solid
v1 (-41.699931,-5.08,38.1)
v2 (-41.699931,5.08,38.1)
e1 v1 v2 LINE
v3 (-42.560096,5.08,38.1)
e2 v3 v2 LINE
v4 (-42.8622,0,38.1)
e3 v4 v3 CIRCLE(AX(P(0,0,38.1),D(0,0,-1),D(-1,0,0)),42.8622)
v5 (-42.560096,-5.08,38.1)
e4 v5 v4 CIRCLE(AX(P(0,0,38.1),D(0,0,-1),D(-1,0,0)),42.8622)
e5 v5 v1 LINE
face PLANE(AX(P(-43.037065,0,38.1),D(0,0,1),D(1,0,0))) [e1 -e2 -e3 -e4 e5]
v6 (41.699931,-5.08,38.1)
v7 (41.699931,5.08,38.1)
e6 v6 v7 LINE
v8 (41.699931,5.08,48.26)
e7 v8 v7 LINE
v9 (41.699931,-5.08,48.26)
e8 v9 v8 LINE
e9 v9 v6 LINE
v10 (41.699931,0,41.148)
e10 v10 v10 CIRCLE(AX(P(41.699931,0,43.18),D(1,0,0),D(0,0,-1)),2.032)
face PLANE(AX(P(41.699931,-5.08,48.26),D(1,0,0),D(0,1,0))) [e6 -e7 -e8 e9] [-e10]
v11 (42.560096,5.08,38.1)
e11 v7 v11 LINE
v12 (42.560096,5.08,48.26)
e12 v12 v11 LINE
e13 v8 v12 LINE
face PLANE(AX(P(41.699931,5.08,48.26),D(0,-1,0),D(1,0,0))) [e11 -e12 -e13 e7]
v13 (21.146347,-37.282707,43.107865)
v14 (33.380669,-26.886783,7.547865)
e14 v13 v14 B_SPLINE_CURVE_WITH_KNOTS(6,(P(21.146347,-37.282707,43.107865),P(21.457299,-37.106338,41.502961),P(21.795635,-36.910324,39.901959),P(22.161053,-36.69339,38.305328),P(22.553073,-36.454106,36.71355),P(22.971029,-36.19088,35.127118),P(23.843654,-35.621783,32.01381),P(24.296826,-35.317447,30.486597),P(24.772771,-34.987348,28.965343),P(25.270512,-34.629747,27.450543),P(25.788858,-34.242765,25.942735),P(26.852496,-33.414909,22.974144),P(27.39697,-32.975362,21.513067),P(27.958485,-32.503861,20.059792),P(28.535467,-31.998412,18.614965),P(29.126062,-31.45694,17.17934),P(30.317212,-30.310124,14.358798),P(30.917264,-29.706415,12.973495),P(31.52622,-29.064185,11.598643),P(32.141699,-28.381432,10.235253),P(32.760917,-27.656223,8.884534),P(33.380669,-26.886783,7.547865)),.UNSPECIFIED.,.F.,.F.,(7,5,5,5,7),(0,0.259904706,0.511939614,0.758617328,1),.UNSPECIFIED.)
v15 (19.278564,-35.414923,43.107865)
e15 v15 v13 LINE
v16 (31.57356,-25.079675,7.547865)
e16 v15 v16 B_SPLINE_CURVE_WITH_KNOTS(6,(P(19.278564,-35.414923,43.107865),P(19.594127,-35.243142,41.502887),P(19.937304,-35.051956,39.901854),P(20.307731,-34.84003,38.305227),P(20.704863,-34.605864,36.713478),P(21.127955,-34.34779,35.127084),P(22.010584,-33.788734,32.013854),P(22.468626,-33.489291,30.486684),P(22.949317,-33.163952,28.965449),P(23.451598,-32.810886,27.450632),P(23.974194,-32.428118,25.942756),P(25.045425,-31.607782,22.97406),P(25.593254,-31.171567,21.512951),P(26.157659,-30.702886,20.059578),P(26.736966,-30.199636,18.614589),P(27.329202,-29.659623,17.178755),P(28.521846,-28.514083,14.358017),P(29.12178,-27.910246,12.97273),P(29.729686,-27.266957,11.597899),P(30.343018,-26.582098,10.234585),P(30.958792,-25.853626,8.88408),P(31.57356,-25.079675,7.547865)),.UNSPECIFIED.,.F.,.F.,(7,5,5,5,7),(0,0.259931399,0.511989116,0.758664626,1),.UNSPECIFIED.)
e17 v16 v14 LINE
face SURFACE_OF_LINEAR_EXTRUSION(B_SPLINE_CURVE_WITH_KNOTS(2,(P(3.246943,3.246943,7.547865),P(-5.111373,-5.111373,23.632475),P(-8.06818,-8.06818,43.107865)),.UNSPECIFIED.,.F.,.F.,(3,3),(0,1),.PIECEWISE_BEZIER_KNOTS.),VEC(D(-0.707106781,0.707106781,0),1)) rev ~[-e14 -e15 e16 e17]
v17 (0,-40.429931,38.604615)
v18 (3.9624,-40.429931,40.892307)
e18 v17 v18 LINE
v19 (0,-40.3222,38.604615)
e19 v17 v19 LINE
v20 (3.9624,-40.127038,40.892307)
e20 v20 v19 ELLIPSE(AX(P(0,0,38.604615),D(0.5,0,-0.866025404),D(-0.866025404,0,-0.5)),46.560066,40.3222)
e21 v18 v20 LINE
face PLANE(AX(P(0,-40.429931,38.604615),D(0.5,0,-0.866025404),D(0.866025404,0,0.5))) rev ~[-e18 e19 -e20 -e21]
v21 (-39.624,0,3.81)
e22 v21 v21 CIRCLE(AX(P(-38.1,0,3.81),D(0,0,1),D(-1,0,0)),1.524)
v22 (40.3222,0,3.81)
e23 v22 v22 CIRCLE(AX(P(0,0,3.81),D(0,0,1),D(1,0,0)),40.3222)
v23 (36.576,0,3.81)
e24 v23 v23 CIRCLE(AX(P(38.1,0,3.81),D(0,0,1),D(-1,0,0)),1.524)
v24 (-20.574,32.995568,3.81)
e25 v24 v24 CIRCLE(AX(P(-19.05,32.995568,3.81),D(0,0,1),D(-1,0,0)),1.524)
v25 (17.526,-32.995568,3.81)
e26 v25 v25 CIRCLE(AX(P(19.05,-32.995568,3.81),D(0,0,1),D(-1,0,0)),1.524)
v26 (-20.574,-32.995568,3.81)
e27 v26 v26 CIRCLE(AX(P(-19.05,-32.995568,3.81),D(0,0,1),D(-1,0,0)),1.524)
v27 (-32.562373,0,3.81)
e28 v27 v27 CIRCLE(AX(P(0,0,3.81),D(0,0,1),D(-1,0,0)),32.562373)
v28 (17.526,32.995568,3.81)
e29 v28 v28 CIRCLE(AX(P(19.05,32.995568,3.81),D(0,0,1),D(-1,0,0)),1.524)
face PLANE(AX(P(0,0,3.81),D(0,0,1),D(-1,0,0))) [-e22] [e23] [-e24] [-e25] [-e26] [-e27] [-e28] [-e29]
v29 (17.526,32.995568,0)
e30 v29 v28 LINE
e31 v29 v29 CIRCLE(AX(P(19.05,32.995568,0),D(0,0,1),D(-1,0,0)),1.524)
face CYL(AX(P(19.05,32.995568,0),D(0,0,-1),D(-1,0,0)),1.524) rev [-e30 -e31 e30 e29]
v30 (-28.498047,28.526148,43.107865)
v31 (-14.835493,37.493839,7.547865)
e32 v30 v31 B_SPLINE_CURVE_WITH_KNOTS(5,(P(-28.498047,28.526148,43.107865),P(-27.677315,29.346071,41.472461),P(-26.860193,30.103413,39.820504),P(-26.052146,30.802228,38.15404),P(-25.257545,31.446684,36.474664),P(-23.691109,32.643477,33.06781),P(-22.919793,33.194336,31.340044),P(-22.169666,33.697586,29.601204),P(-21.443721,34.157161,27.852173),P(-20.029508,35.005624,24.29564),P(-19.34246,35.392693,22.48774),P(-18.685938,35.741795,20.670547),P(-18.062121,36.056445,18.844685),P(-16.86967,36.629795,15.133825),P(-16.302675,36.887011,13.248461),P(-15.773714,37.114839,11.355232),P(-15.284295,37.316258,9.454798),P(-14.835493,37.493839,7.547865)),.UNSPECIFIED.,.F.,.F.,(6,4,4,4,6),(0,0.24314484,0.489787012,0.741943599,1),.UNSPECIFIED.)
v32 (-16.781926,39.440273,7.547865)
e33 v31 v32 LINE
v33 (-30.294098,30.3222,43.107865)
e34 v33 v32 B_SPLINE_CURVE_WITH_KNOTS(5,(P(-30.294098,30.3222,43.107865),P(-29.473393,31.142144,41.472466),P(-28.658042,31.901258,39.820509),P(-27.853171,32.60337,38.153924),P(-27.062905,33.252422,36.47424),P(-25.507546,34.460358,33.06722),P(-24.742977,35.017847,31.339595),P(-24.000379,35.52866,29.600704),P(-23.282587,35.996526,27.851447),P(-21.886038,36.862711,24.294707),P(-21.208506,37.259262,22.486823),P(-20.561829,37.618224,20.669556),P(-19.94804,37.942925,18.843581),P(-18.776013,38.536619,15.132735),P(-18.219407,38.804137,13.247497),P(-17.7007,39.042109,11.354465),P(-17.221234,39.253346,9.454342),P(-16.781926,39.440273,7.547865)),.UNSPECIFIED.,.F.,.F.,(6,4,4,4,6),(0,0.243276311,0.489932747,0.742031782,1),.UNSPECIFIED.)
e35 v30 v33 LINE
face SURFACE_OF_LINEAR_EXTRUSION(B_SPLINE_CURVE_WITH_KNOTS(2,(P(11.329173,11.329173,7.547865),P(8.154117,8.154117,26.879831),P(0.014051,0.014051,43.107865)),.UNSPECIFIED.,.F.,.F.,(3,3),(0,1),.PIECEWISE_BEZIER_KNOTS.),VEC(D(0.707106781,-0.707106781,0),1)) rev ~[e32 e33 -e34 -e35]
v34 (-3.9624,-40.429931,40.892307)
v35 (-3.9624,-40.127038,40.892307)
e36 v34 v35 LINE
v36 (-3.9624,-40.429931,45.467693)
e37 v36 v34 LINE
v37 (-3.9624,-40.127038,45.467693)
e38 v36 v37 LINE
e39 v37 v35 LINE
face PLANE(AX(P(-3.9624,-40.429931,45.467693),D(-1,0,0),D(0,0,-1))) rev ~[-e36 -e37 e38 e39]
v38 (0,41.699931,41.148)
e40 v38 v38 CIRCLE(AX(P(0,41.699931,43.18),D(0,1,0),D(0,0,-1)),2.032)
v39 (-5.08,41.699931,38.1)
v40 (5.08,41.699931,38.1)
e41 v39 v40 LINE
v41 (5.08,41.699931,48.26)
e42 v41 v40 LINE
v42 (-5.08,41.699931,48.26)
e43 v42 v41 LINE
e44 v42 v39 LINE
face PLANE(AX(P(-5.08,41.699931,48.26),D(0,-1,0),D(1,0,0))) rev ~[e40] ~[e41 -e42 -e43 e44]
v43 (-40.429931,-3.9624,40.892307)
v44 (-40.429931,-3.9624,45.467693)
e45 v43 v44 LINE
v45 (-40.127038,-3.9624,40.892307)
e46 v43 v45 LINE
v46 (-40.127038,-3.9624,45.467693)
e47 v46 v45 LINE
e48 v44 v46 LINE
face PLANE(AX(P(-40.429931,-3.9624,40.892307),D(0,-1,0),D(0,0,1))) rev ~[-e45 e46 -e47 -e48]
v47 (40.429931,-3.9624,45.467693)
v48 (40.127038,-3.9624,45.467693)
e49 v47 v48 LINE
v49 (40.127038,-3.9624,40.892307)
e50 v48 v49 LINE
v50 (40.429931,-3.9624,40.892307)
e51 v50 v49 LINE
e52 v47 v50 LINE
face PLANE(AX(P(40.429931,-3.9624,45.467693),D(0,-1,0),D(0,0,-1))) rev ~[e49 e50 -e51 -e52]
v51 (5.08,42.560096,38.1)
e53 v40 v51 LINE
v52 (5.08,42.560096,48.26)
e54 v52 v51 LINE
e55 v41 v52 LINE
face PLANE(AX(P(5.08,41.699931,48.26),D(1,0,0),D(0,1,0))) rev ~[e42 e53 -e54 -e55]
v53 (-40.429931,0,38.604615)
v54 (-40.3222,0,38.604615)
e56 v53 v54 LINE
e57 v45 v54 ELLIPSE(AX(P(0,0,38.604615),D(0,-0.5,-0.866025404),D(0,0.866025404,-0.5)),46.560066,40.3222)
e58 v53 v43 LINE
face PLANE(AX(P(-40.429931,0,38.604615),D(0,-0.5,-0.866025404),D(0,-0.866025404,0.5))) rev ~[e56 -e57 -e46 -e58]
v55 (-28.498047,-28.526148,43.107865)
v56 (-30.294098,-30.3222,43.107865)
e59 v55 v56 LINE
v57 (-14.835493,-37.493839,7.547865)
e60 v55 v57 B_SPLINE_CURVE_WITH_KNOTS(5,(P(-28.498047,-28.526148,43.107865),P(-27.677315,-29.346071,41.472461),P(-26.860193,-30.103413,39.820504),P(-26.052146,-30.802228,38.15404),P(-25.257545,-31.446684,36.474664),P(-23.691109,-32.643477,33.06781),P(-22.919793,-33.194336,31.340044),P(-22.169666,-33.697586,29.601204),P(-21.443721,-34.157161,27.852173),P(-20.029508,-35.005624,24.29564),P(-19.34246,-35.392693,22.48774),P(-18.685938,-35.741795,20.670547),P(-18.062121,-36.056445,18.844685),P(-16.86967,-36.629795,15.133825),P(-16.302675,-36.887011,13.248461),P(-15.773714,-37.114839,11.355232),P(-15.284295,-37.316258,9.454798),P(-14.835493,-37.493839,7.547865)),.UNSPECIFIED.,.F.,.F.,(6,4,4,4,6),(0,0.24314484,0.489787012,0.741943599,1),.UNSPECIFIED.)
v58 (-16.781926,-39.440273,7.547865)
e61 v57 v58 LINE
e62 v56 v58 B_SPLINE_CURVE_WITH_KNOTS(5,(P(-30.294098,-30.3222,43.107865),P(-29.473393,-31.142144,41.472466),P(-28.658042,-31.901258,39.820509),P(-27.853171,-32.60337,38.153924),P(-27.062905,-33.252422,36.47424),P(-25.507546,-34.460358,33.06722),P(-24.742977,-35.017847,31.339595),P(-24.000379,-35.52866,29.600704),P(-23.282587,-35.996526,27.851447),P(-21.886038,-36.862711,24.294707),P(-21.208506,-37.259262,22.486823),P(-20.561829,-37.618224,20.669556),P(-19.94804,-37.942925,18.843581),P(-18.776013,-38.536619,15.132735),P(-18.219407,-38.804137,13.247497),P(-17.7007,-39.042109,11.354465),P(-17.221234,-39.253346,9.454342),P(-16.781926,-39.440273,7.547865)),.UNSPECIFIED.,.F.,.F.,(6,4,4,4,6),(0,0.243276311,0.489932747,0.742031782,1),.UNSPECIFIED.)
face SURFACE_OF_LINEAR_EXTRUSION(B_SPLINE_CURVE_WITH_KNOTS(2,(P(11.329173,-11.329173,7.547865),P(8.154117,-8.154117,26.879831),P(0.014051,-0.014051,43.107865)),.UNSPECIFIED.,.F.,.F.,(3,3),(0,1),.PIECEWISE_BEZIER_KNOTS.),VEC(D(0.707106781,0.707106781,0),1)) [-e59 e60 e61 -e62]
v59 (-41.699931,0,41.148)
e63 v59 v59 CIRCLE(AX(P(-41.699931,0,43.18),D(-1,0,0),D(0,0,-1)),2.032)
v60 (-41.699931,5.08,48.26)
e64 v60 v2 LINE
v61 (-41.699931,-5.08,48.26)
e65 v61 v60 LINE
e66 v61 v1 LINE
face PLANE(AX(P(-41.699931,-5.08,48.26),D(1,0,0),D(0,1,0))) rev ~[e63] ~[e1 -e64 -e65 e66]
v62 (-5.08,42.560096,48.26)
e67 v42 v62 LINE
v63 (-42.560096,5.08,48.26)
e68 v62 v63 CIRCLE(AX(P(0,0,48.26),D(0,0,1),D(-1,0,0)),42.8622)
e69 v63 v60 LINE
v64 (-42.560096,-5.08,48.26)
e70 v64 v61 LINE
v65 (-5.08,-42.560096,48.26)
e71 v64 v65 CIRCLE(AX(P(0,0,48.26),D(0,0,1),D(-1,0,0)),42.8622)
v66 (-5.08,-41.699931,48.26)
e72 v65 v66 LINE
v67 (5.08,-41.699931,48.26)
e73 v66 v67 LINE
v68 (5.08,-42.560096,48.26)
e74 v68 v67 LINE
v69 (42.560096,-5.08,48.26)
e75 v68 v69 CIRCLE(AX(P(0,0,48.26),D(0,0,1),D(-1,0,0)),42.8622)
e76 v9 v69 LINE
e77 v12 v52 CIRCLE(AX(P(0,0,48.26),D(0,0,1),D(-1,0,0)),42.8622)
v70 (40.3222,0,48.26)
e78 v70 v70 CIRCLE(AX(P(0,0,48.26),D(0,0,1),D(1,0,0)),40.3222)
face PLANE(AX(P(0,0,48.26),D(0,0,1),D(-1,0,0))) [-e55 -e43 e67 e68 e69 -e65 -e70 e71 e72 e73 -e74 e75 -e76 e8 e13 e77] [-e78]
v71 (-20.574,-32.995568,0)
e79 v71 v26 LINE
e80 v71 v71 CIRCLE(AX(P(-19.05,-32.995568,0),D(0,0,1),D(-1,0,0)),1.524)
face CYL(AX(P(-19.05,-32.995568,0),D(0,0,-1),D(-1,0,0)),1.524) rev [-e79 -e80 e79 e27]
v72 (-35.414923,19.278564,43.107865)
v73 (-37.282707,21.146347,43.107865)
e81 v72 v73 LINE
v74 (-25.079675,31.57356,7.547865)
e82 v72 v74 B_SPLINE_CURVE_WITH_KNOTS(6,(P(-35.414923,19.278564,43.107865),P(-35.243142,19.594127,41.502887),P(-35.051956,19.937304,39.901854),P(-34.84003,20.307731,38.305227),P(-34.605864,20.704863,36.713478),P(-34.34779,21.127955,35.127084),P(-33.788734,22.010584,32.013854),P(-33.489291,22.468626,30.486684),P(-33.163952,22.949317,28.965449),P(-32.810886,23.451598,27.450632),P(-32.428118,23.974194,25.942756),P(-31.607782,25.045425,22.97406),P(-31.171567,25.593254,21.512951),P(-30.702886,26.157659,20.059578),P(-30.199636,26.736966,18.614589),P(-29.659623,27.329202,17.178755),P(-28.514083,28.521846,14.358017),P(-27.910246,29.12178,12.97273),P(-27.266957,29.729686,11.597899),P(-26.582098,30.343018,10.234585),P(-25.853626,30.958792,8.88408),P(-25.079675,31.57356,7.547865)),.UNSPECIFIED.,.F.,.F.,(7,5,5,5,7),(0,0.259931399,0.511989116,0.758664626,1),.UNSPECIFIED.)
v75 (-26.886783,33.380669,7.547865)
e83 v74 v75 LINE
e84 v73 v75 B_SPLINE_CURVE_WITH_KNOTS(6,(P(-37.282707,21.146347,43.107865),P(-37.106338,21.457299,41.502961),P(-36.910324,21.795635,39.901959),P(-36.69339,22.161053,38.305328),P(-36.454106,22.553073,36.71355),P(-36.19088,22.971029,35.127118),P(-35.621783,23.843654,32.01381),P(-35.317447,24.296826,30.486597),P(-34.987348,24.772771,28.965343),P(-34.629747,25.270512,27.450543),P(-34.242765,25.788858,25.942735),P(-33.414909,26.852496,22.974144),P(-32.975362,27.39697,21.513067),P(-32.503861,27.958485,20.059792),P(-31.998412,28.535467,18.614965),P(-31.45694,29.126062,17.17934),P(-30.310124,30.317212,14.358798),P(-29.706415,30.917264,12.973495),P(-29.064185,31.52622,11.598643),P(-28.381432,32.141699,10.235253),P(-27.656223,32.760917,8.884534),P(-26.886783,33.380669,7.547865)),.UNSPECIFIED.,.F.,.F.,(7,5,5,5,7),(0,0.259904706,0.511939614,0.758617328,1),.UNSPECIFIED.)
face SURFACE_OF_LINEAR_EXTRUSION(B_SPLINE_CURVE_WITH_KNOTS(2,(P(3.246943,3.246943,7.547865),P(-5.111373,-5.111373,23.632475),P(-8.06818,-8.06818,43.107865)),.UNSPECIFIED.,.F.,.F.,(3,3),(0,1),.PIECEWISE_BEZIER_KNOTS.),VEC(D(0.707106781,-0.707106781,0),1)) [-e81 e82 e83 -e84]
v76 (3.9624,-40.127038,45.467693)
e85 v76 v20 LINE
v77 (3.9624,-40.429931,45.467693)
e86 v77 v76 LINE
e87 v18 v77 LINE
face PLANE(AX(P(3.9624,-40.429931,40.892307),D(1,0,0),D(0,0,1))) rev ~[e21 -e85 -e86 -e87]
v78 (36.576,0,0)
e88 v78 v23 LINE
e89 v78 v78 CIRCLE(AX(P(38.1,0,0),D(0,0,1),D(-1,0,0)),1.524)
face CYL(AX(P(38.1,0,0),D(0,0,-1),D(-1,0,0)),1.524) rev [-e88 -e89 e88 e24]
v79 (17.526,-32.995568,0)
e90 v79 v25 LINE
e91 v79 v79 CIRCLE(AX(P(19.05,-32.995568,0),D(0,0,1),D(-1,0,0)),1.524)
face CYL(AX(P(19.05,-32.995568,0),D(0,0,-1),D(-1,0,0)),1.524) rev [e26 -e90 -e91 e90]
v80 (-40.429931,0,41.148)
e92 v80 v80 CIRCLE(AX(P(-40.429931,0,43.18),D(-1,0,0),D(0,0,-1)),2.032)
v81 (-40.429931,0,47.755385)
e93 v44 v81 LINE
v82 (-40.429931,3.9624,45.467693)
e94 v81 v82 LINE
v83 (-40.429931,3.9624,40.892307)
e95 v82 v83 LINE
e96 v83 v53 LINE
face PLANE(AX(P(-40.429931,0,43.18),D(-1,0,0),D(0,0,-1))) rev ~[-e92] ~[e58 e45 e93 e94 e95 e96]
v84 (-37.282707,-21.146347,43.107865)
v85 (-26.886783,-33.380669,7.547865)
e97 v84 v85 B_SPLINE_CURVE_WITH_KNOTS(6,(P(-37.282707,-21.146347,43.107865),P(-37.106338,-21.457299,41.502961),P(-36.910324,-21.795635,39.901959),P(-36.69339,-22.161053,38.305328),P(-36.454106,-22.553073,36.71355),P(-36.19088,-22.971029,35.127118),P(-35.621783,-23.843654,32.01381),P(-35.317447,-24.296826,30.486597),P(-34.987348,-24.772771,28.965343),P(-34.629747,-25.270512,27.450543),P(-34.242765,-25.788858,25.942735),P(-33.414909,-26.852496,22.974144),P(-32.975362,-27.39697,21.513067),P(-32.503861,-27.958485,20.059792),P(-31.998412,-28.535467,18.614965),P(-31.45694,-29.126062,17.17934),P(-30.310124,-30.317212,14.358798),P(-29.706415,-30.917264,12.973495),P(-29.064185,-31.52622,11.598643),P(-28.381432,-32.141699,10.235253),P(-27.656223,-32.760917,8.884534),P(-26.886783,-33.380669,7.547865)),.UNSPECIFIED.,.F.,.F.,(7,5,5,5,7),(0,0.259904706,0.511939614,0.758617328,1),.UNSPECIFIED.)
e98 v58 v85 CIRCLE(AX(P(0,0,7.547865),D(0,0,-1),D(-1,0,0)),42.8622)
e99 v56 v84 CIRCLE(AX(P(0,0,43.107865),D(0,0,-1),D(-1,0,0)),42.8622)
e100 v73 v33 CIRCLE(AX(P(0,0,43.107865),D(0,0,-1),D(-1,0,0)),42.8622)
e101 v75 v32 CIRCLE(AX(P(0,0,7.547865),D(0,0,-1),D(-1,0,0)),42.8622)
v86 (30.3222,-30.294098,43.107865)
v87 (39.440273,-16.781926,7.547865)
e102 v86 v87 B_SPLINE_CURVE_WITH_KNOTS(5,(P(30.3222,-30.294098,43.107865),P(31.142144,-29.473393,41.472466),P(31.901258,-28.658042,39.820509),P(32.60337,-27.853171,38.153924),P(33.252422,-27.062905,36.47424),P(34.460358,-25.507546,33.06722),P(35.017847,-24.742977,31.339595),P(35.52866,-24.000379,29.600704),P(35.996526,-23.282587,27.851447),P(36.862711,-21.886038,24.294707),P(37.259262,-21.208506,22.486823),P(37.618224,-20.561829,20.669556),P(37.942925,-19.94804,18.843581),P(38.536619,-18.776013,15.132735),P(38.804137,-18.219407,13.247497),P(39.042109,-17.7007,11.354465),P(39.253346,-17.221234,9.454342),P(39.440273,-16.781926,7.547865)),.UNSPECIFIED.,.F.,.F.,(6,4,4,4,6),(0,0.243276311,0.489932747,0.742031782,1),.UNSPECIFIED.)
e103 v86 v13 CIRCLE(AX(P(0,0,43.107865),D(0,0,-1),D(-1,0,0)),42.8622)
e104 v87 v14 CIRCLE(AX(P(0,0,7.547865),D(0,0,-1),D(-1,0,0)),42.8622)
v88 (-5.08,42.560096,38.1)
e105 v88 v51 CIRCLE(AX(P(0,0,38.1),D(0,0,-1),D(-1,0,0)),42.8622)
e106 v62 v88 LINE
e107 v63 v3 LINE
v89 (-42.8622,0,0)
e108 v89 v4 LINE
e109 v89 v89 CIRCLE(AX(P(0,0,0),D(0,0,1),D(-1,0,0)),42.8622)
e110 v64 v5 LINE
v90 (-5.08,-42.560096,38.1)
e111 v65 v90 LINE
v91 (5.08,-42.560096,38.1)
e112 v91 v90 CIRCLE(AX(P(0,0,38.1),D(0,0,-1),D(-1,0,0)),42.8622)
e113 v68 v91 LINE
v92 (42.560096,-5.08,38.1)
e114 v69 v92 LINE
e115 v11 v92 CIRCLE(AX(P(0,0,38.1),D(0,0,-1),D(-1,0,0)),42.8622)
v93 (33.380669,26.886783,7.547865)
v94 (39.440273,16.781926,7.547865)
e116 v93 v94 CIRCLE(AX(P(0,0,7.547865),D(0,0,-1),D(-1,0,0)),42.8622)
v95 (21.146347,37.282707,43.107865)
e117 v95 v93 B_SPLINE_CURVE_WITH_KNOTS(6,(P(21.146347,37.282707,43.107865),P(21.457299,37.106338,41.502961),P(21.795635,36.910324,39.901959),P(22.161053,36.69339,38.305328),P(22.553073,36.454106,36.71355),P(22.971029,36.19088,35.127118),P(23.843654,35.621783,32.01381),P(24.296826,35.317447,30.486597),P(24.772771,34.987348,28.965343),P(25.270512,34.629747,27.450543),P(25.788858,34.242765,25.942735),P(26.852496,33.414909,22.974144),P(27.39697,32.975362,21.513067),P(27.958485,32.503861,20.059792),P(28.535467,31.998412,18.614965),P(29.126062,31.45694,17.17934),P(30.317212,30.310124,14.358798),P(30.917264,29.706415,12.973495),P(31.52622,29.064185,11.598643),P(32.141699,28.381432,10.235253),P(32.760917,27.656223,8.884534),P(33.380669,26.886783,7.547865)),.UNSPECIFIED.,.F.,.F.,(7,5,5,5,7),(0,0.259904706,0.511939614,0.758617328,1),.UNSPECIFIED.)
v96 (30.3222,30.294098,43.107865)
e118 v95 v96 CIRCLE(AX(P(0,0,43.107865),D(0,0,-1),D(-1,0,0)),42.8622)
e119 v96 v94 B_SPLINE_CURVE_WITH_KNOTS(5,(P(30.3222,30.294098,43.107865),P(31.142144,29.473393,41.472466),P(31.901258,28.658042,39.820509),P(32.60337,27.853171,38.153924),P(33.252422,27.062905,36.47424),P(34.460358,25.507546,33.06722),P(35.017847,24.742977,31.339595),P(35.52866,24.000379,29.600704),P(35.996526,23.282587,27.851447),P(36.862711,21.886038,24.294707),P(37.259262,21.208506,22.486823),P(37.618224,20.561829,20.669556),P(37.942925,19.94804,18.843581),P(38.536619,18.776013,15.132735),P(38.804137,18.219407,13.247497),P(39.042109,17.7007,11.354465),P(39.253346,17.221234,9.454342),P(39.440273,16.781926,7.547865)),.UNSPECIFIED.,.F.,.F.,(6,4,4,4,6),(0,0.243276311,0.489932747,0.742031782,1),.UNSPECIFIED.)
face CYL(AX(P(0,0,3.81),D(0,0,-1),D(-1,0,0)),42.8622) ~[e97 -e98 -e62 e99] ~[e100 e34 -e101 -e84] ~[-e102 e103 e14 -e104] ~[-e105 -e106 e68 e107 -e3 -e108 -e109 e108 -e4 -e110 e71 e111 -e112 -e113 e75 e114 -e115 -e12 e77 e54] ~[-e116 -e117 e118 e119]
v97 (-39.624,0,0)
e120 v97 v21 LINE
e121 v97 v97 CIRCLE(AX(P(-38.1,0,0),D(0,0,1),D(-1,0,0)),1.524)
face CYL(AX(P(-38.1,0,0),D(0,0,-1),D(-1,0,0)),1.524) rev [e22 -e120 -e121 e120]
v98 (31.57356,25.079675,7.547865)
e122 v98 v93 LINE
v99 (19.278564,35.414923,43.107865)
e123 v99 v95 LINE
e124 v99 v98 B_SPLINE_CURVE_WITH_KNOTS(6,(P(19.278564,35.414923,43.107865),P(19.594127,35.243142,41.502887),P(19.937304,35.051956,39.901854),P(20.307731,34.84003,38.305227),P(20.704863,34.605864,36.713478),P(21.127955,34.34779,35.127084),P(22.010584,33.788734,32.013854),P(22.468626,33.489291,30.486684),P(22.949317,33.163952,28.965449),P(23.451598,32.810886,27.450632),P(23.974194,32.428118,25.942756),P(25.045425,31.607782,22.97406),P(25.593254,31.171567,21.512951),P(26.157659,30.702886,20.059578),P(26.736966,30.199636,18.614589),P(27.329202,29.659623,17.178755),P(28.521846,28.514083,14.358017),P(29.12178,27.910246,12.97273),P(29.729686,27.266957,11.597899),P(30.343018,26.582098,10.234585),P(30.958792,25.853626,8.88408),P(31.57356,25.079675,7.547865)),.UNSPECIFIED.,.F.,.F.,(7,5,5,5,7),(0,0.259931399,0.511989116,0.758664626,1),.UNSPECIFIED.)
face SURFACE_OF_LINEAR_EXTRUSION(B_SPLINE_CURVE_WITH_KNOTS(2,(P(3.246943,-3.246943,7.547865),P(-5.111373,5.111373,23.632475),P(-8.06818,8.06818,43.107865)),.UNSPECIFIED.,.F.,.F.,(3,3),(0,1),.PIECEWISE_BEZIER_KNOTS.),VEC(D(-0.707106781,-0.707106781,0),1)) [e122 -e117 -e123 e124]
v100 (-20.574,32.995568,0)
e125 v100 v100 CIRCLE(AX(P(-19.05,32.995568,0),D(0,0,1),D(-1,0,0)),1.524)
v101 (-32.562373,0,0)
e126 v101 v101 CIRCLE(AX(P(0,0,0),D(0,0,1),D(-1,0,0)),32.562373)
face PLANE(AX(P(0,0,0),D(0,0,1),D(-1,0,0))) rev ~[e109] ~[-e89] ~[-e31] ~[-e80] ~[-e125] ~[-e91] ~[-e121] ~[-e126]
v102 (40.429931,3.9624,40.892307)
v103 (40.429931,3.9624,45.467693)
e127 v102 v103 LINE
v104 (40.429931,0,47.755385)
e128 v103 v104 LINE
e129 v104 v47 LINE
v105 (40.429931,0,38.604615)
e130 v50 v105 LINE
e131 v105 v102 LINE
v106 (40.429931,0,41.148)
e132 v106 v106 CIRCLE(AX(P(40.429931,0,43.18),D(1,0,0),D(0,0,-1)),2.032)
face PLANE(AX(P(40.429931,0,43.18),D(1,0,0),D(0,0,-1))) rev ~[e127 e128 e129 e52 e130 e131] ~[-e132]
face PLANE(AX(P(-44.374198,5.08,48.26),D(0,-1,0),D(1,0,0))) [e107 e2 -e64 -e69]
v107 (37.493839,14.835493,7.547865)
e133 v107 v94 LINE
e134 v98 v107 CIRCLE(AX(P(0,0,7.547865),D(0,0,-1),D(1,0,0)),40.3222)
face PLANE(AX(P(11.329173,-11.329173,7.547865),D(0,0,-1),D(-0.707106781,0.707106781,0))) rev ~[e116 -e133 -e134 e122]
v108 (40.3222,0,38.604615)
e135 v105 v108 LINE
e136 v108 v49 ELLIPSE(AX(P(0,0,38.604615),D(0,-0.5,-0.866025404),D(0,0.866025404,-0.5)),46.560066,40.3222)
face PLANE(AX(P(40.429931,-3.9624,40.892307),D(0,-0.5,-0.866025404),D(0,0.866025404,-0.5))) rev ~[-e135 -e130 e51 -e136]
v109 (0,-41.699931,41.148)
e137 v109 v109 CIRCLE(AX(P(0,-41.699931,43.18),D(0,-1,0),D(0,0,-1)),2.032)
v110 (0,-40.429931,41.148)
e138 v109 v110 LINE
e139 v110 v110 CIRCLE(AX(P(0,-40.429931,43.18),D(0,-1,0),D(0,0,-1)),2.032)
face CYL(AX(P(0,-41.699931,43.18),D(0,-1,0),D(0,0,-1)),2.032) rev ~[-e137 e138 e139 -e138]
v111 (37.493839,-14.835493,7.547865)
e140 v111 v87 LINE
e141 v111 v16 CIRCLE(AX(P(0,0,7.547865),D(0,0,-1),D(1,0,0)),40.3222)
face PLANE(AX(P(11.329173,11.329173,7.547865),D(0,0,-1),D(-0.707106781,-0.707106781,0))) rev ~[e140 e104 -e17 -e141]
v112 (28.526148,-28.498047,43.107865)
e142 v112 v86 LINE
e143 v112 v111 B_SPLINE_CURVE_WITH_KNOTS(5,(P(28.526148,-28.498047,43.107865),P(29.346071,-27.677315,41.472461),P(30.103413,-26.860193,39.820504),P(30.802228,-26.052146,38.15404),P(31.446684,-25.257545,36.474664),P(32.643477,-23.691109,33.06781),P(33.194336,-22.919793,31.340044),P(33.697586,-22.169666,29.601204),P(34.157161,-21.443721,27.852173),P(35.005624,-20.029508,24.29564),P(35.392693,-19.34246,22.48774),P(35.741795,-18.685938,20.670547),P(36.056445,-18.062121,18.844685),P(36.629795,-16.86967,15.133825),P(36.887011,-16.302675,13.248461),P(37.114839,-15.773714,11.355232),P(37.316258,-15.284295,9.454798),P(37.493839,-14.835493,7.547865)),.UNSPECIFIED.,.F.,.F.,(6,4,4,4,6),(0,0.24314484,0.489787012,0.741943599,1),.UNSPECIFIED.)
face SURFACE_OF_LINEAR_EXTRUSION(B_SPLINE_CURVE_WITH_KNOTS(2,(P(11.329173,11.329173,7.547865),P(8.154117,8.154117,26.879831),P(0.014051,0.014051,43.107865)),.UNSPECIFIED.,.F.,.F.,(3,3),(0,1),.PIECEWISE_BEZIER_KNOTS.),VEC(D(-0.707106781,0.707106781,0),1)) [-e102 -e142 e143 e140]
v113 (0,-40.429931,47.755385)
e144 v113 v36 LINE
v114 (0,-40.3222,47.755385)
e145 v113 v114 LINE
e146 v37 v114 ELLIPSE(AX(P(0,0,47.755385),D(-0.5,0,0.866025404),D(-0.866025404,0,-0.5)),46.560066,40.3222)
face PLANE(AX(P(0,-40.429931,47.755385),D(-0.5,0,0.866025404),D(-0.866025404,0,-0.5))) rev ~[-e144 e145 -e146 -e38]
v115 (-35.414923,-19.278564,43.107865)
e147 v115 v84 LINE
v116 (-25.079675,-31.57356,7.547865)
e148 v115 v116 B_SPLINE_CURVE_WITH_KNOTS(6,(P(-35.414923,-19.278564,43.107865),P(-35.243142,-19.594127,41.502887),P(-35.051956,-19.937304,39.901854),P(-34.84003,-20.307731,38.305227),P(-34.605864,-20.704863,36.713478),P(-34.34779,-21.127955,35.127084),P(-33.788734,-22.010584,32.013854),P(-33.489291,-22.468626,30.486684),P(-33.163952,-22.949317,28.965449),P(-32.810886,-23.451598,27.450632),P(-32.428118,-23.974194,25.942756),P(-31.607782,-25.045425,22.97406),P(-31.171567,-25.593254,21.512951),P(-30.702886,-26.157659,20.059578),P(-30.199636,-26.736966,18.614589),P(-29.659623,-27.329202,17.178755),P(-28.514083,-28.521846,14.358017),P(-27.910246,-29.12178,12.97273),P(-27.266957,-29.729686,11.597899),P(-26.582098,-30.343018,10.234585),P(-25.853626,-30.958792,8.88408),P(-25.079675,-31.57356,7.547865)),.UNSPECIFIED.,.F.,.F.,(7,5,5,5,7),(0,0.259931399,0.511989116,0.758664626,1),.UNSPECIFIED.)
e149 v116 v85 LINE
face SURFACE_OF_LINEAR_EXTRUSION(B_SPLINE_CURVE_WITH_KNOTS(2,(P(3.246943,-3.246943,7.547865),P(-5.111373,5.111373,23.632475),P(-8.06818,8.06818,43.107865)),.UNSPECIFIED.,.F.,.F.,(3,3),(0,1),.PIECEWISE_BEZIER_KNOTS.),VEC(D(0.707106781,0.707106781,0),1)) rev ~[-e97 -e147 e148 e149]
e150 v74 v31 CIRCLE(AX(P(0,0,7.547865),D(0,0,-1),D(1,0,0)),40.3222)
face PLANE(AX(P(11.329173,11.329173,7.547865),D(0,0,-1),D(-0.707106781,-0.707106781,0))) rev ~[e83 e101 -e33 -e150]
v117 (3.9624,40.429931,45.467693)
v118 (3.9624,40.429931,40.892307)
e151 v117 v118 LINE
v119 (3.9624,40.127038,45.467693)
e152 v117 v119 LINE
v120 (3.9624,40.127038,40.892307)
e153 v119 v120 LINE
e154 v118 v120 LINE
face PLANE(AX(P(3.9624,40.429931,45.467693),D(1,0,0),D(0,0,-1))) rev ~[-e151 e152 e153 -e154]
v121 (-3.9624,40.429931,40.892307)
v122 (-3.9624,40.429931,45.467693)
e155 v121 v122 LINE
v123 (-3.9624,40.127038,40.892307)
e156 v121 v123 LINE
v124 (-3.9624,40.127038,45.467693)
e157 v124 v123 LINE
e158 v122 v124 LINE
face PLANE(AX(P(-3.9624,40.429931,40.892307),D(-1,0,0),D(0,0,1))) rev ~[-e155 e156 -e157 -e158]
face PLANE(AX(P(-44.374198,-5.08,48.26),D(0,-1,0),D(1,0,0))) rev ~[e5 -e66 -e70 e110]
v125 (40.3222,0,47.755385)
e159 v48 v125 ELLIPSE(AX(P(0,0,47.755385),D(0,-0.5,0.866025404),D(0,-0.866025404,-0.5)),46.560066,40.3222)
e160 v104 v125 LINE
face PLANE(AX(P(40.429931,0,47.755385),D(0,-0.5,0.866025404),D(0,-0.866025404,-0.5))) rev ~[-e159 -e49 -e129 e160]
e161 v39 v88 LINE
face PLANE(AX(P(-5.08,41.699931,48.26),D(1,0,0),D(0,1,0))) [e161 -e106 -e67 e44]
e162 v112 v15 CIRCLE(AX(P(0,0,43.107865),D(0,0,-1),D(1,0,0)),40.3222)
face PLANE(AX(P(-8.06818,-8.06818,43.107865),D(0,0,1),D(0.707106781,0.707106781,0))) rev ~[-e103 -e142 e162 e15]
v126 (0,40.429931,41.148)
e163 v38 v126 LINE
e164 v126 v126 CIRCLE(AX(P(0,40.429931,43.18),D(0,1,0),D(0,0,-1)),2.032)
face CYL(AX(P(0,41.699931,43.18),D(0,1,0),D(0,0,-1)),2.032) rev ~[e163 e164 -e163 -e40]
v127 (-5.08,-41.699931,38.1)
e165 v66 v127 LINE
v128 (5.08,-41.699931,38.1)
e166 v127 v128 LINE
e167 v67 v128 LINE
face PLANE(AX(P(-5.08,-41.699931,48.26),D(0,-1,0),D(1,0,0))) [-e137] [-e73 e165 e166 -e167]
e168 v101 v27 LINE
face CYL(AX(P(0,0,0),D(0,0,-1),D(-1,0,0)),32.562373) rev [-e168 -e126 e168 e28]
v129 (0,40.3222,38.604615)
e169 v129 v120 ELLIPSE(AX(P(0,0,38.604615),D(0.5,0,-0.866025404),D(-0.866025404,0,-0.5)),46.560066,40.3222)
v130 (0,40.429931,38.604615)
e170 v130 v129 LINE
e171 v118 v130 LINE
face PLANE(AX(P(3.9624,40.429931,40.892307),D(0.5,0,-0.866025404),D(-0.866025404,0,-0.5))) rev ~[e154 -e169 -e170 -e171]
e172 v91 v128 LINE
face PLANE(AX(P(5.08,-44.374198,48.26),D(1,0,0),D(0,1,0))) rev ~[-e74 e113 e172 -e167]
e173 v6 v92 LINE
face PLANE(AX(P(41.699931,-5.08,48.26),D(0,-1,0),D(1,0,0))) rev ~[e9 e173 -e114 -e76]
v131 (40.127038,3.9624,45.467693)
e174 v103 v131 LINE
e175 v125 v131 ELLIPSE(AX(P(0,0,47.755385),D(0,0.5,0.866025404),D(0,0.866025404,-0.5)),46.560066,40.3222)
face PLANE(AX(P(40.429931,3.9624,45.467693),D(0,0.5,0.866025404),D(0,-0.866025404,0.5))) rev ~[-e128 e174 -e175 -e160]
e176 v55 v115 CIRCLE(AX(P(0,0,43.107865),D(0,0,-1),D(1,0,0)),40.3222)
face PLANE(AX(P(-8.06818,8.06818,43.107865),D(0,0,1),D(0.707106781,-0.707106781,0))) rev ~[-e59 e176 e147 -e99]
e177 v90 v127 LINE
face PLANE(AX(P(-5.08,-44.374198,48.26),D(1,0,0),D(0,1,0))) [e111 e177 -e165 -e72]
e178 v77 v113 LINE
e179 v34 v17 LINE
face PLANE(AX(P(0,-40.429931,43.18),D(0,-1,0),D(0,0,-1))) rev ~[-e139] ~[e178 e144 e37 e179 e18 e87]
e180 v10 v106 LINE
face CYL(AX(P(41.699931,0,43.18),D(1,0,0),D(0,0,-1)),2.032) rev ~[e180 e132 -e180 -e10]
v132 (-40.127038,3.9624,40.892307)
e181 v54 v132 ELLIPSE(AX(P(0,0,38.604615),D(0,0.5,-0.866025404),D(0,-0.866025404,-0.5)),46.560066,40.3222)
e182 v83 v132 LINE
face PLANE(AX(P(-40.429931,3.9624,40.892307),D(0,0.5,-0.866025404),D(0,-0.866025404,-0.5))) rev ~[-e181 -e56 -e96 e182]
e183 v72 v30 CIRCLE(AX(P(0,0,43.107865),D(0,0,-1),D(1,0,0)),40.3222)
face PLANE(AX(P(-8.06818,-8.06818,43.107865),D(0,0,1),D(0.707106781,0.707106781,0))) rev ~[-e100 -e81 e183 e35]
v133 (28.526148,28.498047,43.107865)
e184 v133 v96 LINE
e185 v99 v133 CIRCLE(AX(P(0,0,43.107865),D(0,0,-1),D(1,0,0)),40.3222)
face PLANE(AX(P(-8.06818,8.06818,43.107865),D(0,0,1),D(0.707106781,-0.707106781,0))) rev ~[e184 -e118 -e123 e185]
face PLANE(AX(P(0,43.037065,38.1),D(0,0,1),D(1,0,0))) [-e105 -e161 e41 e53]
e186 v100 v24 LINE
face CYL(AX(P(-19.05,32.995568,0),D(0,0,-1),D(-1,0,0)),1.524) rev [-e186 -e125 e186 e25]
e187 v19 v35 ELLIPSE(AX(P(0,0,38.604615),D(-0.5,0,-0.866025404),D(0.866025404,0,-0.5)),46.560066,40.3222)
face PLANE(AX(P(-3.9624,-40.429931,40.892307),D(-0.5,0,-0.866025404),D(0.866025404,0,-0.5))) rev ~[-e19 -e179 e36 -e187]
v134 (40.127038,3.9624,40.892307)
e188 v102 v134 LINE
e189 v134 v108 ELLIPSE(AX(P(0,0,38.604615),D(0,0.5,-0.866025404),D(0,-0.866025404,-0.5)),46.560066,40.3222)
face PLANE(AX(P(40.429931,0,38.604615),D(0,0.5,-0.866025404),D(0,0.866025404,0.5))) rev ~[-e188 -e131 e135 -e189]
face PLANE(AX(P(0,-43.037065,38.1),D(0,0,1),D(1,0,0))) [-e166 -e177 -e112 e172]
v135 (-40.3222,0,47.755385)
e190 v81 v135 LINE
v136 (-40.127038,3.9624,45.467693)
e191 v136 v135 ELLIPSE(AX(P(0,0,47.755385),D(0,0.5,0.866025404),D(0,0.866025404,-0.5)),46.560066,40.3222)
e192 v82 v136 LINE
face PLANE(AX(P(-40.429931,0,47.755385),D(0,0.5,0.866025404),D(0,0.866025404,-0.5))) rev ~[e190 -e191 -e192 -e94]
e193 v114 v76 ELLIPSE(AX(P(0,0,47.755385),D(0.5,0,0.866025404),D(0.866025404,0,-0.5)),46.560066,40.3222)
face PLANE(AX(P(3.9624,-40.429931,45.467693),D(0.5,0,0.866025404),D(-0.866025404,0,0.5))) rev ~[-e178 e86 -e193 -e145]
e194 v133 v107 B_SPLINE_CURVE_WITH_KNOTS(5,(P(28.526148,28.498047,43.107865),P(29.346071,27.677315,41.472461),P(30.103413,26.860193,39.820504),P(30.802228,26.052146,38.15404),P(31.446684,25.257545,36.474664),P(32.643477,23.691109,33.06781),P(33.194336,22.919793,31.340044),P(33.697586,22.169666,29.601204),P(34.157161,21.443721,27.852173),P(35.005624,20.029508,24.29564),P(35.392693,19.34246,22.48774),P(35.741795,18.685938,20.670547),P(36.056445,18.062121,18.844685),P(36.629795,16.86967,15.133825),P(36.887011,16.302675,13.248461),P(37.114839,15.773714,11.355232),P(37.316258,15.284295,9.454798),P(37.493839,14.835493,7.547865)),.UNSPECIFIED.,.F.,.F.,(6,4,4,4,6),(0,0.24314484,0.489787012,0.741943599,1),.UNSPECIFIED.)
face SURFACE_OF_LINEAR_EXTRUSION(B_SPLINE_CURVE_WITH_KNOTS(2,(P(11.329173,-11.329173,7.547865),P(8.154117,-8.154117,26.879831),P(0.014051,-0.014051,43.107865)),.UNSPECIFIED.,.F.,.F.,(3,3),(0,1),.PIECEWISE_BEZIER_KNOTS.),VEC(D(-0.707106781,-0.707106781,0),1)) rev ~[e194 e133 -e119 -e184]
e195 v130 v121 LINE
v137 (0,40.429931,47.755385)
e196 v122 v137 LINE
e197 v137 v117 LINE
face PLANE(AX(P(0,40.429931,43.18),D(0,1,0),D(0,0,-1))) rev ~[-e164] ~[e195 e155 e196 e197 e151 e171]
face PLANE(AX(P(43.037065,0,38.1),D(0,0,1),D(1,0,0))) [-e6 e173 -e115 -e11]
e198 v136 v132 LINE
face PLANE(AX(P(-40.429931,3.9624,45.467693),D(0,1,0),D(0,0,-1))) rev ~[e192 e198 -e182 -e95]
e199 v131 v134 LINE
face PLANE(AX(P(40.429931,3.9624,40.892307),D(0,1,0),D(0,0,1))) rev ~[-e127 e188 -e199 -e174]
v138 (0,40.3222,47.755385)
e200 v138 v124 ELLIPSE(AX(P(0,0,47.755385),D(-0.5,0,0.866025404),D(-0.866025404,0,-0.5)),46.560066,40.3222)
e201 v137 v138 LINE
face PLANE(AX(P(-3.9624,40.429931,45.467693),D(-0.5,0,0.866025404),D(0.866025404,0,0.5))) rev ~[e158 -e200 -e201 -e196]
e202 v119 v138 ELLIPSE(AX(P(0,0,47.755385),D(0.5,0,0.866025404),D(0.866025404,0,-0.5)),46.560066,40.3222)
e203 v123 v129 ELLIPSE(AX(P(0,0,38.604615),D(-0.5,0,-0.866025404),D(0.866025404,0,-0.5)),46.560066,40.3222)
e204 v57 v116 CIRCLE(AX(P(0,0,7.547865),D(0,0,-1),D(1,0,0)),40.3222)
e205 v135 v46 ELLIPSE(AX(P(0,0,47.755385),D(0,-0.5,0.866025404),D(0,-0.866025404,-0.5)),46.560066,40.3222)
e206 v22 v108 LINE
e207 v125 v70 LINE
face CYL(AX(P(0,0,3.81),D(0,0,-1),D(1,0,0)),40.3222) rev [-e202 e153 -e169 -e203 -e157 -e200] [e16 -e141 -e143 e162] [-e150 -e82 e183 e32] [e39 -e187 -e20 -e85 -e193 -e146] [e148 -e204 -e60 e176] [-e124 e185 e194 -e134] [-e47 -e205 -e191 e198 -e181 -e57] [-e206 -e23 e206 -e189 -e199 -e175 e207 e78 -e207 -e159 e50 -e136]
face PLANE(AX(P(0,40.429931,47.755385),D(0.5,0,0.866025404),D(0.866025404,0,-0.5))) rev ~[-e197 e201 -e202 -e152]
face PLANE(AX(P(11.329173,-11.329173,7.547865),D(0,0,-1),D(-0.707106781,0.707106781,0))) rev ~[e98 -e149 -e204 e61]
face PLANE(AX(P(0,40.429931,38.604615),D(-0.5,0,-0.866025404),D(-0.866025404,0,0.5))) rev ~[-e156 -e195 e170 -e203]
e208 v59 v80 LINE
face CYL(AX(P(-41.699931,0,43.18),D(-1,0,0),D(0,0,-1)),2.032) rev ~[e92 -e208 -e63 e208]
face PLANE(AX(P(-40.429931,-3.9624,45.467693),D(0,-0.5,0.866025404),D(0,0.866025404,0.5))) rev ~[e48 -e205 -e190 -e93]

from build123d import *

# Parameters (mm, degrees)
SKETCH2_R           = 42.8622
SKETCH2_R_2         = 32.562372804
SKETCH2_R_3         = 1.524
BOSS_EXTRUDE1_DEPTH = 3.81
SKETCH3_R           = 42.8622
SKETCH3_R_2         = 40.3222
BOSS_EXTRUDE2_DEPTH = 44.45
SKETCH7_W           = 2.674266908
SKETCH7_H           = 10.16
SKETCH7_W_2         = 10.16
SKETCH7_H_2         = 2.674266908
CUT_EXTRUDE2_DEPTH  = 10.16
CUT_EXTRUDE3_DEPTH  = 10.16
SKETCH9_R           = 2.032
CUT_EXTRUDE4_DEPTH  = 10.16
CIRPATTERN2_COUNT   = 4
CUT_EXTRUDE5_DEPTH  = 78.481378264
CIRPATTERN3_COUNT   = 2
CIRPATTERN3_ANGLE   = 90


with BuildPart() as part:
    # Sketch2 → Boss-Extrude1 (new body)
    with BuildSketch(Plane.XY):
        Circle(SKETCH2_R)
        Circle(SKETCH2_R_2, mode=Mode.SUBTRACT)
        with Locations((-19.05, 32.995567884)):
            Circle(SKETCH2_R_3, mode=Mode.SUBTRACT)
        with Locations((-38.1, 0)):
            Circle(SKETCH2_R_3, mode=Mode.SUBTRACT)
        with Locations((-19.05, -32.995567884)):
            Circle(SKETCH2_R_3, mode=Mode.SUBTRACT)
        with Locations((19.05, -32.995567884)):
            Circle(SKETCH2_R_3, mode=Mode.SUBTRACT)
        with Locations((38.1, 0)):
            Circle(SKETCH2_R_3, mode=Mode.SUBTRACT)
        with Locations((19.05, 32.995567884)):
            Circle(SKETCH2_R_3, mode=Mode.SUBTRACT)
    extrude(amount=BOSS_EXTRUDE1_DEPTH)

    # Sketch3 → Boss-Extrude2 (add)
    with BuildSketch(Plane.XY.offset(3.81)):
        Circle(SKETCH3_R)
        Circle(SKETCH3_R_2, mode=Mode.SUBTRACT)
    extrude(amount=BOSS_EXTRUDE2_DEPTH)

    # Sketch7 → Cut-Extrude2 (cut)
    with BuildSketch(Plane.XY.offset(48.26)):
        with Locations((43.037064748, 0)):
            Rectangle(SKETCH7_W, SKETCH7_H)
        with Locations((0, -43.037064748)):
            Rectangle(SKETCH7_W_2, SKETCH7_H_2)
        with Locations((-43.037064748, 0)):
            Rectangle(SKETCH7_W, SKETCH7_H)
        with Locations((0, 43.037064748)):
            Rectangle(SKETCH7_W_2, SKETCH7_H_2)
    extrude(amount=-CUT_EXTRUDE2_DEPTH, mode=Mode.SUBTRACT)

    # Sketch8 → Cut-Extrude3 (cut)
    with BuildSketch(Plane(origin=(40.429931294, 0, 0), x_dir=(0, 0, -1), z_dir=(1, 0, 0))):
        Polygon((-38.604614587, 0), (-40.892307293, 3.9624), (-45.467692707, 3.9624), (-47.755385413, 0), (-45.467692707, -3.9624), (-40.892307293, -3.9624), align=None)
    cut_extrude3 = extrude(amount=-CUT_EXTRUDE3_DEPTH, mode=Mode.SUBTRACT)

    # Sketch9 → Cut-Extrude4 (cut)
    with BuildSketch(Plane(origin=(41.699931294, 0, 0), x_dir=(0, 0, -1), z_dir=(1, 0, 0))):
        with Locations((-43.18, 0)):
            Circle(SKETCH9_R)
    cut_extrude4 = extrude(amount=-CUT_EXTRUDE4_DEPTH, mode=Mode.SUBTRACT)

    # CirPattern2: Cut-Extrude3, Cut-Extrude4 ×4 about axis
    cirpattern2_axis = Axis((0, 0, 48.26), (0, 0, 1))
    add([cut_extrude3.rotate(cirpattern2_axis, i * 360 / CIRPATTERN2_COUNT) for i in range(1, CIRPATTERN2_COUNT)], mode=Mode.SUBTRACT)
    add([cut_extrude4.rotate(cirpattern2_axis, i * 360 / CIRPATTERN2_COUNT) for i in range(1, CIRPATTERN2_COUNT)], mode=Mode.SUBTRACT)

    # Sketch10 → Cut-Extrude5 (cut, symmetric)
    with BuildSketch(Plane(origin=(0, 0, 0), x_dir=(0, 0, 1), z_dir=(0.7071067811865464, 0.7071067811865488, 0))):
        with BuildLine():
            Line((7.547865198, 16.021870477), (7.547865198, 4.591870477))
            add(Edge.make_bspline(
                [(7.547865198, 4.591870477), (23.63247535, -7.228573119), (43.107865198, -11.410129523)],
                knots=[0, 0, 0, 1, 1, 1], degree=2))
            Line((43.107865198, -11.410129523), (43.107865198, 0.019870477))
            add(Edge.make_bspline(
                [(7.547865198, 16.021870477), (26.879831208, 11.531662429), (43.107865198, 0.019870477)],
                knots=[0, 0, 0, 1, 1, 1], degree=2))
        make_face()
    cut_extrude5 = extrude(amount=CUT_EXTRUDE5_DEPTH, both=True, mode=Mode.SUBTRACT)

    # CirPattern3: Cut-Extrude5 ×2 about axis
    cirpattern3_axis = Axis((0, 0, 48.26), (0, 0, 1))
    for i in range(1, CIRPATTERN3_COUNT):
        add(cut_extrude5.rotate(cirpattern3_axis, i * CIRPATTERN3_ANGLE / (CIRPATTERN3_COUNT - 1)), mode=Mode.SUBTRACT)


solid = part.part
